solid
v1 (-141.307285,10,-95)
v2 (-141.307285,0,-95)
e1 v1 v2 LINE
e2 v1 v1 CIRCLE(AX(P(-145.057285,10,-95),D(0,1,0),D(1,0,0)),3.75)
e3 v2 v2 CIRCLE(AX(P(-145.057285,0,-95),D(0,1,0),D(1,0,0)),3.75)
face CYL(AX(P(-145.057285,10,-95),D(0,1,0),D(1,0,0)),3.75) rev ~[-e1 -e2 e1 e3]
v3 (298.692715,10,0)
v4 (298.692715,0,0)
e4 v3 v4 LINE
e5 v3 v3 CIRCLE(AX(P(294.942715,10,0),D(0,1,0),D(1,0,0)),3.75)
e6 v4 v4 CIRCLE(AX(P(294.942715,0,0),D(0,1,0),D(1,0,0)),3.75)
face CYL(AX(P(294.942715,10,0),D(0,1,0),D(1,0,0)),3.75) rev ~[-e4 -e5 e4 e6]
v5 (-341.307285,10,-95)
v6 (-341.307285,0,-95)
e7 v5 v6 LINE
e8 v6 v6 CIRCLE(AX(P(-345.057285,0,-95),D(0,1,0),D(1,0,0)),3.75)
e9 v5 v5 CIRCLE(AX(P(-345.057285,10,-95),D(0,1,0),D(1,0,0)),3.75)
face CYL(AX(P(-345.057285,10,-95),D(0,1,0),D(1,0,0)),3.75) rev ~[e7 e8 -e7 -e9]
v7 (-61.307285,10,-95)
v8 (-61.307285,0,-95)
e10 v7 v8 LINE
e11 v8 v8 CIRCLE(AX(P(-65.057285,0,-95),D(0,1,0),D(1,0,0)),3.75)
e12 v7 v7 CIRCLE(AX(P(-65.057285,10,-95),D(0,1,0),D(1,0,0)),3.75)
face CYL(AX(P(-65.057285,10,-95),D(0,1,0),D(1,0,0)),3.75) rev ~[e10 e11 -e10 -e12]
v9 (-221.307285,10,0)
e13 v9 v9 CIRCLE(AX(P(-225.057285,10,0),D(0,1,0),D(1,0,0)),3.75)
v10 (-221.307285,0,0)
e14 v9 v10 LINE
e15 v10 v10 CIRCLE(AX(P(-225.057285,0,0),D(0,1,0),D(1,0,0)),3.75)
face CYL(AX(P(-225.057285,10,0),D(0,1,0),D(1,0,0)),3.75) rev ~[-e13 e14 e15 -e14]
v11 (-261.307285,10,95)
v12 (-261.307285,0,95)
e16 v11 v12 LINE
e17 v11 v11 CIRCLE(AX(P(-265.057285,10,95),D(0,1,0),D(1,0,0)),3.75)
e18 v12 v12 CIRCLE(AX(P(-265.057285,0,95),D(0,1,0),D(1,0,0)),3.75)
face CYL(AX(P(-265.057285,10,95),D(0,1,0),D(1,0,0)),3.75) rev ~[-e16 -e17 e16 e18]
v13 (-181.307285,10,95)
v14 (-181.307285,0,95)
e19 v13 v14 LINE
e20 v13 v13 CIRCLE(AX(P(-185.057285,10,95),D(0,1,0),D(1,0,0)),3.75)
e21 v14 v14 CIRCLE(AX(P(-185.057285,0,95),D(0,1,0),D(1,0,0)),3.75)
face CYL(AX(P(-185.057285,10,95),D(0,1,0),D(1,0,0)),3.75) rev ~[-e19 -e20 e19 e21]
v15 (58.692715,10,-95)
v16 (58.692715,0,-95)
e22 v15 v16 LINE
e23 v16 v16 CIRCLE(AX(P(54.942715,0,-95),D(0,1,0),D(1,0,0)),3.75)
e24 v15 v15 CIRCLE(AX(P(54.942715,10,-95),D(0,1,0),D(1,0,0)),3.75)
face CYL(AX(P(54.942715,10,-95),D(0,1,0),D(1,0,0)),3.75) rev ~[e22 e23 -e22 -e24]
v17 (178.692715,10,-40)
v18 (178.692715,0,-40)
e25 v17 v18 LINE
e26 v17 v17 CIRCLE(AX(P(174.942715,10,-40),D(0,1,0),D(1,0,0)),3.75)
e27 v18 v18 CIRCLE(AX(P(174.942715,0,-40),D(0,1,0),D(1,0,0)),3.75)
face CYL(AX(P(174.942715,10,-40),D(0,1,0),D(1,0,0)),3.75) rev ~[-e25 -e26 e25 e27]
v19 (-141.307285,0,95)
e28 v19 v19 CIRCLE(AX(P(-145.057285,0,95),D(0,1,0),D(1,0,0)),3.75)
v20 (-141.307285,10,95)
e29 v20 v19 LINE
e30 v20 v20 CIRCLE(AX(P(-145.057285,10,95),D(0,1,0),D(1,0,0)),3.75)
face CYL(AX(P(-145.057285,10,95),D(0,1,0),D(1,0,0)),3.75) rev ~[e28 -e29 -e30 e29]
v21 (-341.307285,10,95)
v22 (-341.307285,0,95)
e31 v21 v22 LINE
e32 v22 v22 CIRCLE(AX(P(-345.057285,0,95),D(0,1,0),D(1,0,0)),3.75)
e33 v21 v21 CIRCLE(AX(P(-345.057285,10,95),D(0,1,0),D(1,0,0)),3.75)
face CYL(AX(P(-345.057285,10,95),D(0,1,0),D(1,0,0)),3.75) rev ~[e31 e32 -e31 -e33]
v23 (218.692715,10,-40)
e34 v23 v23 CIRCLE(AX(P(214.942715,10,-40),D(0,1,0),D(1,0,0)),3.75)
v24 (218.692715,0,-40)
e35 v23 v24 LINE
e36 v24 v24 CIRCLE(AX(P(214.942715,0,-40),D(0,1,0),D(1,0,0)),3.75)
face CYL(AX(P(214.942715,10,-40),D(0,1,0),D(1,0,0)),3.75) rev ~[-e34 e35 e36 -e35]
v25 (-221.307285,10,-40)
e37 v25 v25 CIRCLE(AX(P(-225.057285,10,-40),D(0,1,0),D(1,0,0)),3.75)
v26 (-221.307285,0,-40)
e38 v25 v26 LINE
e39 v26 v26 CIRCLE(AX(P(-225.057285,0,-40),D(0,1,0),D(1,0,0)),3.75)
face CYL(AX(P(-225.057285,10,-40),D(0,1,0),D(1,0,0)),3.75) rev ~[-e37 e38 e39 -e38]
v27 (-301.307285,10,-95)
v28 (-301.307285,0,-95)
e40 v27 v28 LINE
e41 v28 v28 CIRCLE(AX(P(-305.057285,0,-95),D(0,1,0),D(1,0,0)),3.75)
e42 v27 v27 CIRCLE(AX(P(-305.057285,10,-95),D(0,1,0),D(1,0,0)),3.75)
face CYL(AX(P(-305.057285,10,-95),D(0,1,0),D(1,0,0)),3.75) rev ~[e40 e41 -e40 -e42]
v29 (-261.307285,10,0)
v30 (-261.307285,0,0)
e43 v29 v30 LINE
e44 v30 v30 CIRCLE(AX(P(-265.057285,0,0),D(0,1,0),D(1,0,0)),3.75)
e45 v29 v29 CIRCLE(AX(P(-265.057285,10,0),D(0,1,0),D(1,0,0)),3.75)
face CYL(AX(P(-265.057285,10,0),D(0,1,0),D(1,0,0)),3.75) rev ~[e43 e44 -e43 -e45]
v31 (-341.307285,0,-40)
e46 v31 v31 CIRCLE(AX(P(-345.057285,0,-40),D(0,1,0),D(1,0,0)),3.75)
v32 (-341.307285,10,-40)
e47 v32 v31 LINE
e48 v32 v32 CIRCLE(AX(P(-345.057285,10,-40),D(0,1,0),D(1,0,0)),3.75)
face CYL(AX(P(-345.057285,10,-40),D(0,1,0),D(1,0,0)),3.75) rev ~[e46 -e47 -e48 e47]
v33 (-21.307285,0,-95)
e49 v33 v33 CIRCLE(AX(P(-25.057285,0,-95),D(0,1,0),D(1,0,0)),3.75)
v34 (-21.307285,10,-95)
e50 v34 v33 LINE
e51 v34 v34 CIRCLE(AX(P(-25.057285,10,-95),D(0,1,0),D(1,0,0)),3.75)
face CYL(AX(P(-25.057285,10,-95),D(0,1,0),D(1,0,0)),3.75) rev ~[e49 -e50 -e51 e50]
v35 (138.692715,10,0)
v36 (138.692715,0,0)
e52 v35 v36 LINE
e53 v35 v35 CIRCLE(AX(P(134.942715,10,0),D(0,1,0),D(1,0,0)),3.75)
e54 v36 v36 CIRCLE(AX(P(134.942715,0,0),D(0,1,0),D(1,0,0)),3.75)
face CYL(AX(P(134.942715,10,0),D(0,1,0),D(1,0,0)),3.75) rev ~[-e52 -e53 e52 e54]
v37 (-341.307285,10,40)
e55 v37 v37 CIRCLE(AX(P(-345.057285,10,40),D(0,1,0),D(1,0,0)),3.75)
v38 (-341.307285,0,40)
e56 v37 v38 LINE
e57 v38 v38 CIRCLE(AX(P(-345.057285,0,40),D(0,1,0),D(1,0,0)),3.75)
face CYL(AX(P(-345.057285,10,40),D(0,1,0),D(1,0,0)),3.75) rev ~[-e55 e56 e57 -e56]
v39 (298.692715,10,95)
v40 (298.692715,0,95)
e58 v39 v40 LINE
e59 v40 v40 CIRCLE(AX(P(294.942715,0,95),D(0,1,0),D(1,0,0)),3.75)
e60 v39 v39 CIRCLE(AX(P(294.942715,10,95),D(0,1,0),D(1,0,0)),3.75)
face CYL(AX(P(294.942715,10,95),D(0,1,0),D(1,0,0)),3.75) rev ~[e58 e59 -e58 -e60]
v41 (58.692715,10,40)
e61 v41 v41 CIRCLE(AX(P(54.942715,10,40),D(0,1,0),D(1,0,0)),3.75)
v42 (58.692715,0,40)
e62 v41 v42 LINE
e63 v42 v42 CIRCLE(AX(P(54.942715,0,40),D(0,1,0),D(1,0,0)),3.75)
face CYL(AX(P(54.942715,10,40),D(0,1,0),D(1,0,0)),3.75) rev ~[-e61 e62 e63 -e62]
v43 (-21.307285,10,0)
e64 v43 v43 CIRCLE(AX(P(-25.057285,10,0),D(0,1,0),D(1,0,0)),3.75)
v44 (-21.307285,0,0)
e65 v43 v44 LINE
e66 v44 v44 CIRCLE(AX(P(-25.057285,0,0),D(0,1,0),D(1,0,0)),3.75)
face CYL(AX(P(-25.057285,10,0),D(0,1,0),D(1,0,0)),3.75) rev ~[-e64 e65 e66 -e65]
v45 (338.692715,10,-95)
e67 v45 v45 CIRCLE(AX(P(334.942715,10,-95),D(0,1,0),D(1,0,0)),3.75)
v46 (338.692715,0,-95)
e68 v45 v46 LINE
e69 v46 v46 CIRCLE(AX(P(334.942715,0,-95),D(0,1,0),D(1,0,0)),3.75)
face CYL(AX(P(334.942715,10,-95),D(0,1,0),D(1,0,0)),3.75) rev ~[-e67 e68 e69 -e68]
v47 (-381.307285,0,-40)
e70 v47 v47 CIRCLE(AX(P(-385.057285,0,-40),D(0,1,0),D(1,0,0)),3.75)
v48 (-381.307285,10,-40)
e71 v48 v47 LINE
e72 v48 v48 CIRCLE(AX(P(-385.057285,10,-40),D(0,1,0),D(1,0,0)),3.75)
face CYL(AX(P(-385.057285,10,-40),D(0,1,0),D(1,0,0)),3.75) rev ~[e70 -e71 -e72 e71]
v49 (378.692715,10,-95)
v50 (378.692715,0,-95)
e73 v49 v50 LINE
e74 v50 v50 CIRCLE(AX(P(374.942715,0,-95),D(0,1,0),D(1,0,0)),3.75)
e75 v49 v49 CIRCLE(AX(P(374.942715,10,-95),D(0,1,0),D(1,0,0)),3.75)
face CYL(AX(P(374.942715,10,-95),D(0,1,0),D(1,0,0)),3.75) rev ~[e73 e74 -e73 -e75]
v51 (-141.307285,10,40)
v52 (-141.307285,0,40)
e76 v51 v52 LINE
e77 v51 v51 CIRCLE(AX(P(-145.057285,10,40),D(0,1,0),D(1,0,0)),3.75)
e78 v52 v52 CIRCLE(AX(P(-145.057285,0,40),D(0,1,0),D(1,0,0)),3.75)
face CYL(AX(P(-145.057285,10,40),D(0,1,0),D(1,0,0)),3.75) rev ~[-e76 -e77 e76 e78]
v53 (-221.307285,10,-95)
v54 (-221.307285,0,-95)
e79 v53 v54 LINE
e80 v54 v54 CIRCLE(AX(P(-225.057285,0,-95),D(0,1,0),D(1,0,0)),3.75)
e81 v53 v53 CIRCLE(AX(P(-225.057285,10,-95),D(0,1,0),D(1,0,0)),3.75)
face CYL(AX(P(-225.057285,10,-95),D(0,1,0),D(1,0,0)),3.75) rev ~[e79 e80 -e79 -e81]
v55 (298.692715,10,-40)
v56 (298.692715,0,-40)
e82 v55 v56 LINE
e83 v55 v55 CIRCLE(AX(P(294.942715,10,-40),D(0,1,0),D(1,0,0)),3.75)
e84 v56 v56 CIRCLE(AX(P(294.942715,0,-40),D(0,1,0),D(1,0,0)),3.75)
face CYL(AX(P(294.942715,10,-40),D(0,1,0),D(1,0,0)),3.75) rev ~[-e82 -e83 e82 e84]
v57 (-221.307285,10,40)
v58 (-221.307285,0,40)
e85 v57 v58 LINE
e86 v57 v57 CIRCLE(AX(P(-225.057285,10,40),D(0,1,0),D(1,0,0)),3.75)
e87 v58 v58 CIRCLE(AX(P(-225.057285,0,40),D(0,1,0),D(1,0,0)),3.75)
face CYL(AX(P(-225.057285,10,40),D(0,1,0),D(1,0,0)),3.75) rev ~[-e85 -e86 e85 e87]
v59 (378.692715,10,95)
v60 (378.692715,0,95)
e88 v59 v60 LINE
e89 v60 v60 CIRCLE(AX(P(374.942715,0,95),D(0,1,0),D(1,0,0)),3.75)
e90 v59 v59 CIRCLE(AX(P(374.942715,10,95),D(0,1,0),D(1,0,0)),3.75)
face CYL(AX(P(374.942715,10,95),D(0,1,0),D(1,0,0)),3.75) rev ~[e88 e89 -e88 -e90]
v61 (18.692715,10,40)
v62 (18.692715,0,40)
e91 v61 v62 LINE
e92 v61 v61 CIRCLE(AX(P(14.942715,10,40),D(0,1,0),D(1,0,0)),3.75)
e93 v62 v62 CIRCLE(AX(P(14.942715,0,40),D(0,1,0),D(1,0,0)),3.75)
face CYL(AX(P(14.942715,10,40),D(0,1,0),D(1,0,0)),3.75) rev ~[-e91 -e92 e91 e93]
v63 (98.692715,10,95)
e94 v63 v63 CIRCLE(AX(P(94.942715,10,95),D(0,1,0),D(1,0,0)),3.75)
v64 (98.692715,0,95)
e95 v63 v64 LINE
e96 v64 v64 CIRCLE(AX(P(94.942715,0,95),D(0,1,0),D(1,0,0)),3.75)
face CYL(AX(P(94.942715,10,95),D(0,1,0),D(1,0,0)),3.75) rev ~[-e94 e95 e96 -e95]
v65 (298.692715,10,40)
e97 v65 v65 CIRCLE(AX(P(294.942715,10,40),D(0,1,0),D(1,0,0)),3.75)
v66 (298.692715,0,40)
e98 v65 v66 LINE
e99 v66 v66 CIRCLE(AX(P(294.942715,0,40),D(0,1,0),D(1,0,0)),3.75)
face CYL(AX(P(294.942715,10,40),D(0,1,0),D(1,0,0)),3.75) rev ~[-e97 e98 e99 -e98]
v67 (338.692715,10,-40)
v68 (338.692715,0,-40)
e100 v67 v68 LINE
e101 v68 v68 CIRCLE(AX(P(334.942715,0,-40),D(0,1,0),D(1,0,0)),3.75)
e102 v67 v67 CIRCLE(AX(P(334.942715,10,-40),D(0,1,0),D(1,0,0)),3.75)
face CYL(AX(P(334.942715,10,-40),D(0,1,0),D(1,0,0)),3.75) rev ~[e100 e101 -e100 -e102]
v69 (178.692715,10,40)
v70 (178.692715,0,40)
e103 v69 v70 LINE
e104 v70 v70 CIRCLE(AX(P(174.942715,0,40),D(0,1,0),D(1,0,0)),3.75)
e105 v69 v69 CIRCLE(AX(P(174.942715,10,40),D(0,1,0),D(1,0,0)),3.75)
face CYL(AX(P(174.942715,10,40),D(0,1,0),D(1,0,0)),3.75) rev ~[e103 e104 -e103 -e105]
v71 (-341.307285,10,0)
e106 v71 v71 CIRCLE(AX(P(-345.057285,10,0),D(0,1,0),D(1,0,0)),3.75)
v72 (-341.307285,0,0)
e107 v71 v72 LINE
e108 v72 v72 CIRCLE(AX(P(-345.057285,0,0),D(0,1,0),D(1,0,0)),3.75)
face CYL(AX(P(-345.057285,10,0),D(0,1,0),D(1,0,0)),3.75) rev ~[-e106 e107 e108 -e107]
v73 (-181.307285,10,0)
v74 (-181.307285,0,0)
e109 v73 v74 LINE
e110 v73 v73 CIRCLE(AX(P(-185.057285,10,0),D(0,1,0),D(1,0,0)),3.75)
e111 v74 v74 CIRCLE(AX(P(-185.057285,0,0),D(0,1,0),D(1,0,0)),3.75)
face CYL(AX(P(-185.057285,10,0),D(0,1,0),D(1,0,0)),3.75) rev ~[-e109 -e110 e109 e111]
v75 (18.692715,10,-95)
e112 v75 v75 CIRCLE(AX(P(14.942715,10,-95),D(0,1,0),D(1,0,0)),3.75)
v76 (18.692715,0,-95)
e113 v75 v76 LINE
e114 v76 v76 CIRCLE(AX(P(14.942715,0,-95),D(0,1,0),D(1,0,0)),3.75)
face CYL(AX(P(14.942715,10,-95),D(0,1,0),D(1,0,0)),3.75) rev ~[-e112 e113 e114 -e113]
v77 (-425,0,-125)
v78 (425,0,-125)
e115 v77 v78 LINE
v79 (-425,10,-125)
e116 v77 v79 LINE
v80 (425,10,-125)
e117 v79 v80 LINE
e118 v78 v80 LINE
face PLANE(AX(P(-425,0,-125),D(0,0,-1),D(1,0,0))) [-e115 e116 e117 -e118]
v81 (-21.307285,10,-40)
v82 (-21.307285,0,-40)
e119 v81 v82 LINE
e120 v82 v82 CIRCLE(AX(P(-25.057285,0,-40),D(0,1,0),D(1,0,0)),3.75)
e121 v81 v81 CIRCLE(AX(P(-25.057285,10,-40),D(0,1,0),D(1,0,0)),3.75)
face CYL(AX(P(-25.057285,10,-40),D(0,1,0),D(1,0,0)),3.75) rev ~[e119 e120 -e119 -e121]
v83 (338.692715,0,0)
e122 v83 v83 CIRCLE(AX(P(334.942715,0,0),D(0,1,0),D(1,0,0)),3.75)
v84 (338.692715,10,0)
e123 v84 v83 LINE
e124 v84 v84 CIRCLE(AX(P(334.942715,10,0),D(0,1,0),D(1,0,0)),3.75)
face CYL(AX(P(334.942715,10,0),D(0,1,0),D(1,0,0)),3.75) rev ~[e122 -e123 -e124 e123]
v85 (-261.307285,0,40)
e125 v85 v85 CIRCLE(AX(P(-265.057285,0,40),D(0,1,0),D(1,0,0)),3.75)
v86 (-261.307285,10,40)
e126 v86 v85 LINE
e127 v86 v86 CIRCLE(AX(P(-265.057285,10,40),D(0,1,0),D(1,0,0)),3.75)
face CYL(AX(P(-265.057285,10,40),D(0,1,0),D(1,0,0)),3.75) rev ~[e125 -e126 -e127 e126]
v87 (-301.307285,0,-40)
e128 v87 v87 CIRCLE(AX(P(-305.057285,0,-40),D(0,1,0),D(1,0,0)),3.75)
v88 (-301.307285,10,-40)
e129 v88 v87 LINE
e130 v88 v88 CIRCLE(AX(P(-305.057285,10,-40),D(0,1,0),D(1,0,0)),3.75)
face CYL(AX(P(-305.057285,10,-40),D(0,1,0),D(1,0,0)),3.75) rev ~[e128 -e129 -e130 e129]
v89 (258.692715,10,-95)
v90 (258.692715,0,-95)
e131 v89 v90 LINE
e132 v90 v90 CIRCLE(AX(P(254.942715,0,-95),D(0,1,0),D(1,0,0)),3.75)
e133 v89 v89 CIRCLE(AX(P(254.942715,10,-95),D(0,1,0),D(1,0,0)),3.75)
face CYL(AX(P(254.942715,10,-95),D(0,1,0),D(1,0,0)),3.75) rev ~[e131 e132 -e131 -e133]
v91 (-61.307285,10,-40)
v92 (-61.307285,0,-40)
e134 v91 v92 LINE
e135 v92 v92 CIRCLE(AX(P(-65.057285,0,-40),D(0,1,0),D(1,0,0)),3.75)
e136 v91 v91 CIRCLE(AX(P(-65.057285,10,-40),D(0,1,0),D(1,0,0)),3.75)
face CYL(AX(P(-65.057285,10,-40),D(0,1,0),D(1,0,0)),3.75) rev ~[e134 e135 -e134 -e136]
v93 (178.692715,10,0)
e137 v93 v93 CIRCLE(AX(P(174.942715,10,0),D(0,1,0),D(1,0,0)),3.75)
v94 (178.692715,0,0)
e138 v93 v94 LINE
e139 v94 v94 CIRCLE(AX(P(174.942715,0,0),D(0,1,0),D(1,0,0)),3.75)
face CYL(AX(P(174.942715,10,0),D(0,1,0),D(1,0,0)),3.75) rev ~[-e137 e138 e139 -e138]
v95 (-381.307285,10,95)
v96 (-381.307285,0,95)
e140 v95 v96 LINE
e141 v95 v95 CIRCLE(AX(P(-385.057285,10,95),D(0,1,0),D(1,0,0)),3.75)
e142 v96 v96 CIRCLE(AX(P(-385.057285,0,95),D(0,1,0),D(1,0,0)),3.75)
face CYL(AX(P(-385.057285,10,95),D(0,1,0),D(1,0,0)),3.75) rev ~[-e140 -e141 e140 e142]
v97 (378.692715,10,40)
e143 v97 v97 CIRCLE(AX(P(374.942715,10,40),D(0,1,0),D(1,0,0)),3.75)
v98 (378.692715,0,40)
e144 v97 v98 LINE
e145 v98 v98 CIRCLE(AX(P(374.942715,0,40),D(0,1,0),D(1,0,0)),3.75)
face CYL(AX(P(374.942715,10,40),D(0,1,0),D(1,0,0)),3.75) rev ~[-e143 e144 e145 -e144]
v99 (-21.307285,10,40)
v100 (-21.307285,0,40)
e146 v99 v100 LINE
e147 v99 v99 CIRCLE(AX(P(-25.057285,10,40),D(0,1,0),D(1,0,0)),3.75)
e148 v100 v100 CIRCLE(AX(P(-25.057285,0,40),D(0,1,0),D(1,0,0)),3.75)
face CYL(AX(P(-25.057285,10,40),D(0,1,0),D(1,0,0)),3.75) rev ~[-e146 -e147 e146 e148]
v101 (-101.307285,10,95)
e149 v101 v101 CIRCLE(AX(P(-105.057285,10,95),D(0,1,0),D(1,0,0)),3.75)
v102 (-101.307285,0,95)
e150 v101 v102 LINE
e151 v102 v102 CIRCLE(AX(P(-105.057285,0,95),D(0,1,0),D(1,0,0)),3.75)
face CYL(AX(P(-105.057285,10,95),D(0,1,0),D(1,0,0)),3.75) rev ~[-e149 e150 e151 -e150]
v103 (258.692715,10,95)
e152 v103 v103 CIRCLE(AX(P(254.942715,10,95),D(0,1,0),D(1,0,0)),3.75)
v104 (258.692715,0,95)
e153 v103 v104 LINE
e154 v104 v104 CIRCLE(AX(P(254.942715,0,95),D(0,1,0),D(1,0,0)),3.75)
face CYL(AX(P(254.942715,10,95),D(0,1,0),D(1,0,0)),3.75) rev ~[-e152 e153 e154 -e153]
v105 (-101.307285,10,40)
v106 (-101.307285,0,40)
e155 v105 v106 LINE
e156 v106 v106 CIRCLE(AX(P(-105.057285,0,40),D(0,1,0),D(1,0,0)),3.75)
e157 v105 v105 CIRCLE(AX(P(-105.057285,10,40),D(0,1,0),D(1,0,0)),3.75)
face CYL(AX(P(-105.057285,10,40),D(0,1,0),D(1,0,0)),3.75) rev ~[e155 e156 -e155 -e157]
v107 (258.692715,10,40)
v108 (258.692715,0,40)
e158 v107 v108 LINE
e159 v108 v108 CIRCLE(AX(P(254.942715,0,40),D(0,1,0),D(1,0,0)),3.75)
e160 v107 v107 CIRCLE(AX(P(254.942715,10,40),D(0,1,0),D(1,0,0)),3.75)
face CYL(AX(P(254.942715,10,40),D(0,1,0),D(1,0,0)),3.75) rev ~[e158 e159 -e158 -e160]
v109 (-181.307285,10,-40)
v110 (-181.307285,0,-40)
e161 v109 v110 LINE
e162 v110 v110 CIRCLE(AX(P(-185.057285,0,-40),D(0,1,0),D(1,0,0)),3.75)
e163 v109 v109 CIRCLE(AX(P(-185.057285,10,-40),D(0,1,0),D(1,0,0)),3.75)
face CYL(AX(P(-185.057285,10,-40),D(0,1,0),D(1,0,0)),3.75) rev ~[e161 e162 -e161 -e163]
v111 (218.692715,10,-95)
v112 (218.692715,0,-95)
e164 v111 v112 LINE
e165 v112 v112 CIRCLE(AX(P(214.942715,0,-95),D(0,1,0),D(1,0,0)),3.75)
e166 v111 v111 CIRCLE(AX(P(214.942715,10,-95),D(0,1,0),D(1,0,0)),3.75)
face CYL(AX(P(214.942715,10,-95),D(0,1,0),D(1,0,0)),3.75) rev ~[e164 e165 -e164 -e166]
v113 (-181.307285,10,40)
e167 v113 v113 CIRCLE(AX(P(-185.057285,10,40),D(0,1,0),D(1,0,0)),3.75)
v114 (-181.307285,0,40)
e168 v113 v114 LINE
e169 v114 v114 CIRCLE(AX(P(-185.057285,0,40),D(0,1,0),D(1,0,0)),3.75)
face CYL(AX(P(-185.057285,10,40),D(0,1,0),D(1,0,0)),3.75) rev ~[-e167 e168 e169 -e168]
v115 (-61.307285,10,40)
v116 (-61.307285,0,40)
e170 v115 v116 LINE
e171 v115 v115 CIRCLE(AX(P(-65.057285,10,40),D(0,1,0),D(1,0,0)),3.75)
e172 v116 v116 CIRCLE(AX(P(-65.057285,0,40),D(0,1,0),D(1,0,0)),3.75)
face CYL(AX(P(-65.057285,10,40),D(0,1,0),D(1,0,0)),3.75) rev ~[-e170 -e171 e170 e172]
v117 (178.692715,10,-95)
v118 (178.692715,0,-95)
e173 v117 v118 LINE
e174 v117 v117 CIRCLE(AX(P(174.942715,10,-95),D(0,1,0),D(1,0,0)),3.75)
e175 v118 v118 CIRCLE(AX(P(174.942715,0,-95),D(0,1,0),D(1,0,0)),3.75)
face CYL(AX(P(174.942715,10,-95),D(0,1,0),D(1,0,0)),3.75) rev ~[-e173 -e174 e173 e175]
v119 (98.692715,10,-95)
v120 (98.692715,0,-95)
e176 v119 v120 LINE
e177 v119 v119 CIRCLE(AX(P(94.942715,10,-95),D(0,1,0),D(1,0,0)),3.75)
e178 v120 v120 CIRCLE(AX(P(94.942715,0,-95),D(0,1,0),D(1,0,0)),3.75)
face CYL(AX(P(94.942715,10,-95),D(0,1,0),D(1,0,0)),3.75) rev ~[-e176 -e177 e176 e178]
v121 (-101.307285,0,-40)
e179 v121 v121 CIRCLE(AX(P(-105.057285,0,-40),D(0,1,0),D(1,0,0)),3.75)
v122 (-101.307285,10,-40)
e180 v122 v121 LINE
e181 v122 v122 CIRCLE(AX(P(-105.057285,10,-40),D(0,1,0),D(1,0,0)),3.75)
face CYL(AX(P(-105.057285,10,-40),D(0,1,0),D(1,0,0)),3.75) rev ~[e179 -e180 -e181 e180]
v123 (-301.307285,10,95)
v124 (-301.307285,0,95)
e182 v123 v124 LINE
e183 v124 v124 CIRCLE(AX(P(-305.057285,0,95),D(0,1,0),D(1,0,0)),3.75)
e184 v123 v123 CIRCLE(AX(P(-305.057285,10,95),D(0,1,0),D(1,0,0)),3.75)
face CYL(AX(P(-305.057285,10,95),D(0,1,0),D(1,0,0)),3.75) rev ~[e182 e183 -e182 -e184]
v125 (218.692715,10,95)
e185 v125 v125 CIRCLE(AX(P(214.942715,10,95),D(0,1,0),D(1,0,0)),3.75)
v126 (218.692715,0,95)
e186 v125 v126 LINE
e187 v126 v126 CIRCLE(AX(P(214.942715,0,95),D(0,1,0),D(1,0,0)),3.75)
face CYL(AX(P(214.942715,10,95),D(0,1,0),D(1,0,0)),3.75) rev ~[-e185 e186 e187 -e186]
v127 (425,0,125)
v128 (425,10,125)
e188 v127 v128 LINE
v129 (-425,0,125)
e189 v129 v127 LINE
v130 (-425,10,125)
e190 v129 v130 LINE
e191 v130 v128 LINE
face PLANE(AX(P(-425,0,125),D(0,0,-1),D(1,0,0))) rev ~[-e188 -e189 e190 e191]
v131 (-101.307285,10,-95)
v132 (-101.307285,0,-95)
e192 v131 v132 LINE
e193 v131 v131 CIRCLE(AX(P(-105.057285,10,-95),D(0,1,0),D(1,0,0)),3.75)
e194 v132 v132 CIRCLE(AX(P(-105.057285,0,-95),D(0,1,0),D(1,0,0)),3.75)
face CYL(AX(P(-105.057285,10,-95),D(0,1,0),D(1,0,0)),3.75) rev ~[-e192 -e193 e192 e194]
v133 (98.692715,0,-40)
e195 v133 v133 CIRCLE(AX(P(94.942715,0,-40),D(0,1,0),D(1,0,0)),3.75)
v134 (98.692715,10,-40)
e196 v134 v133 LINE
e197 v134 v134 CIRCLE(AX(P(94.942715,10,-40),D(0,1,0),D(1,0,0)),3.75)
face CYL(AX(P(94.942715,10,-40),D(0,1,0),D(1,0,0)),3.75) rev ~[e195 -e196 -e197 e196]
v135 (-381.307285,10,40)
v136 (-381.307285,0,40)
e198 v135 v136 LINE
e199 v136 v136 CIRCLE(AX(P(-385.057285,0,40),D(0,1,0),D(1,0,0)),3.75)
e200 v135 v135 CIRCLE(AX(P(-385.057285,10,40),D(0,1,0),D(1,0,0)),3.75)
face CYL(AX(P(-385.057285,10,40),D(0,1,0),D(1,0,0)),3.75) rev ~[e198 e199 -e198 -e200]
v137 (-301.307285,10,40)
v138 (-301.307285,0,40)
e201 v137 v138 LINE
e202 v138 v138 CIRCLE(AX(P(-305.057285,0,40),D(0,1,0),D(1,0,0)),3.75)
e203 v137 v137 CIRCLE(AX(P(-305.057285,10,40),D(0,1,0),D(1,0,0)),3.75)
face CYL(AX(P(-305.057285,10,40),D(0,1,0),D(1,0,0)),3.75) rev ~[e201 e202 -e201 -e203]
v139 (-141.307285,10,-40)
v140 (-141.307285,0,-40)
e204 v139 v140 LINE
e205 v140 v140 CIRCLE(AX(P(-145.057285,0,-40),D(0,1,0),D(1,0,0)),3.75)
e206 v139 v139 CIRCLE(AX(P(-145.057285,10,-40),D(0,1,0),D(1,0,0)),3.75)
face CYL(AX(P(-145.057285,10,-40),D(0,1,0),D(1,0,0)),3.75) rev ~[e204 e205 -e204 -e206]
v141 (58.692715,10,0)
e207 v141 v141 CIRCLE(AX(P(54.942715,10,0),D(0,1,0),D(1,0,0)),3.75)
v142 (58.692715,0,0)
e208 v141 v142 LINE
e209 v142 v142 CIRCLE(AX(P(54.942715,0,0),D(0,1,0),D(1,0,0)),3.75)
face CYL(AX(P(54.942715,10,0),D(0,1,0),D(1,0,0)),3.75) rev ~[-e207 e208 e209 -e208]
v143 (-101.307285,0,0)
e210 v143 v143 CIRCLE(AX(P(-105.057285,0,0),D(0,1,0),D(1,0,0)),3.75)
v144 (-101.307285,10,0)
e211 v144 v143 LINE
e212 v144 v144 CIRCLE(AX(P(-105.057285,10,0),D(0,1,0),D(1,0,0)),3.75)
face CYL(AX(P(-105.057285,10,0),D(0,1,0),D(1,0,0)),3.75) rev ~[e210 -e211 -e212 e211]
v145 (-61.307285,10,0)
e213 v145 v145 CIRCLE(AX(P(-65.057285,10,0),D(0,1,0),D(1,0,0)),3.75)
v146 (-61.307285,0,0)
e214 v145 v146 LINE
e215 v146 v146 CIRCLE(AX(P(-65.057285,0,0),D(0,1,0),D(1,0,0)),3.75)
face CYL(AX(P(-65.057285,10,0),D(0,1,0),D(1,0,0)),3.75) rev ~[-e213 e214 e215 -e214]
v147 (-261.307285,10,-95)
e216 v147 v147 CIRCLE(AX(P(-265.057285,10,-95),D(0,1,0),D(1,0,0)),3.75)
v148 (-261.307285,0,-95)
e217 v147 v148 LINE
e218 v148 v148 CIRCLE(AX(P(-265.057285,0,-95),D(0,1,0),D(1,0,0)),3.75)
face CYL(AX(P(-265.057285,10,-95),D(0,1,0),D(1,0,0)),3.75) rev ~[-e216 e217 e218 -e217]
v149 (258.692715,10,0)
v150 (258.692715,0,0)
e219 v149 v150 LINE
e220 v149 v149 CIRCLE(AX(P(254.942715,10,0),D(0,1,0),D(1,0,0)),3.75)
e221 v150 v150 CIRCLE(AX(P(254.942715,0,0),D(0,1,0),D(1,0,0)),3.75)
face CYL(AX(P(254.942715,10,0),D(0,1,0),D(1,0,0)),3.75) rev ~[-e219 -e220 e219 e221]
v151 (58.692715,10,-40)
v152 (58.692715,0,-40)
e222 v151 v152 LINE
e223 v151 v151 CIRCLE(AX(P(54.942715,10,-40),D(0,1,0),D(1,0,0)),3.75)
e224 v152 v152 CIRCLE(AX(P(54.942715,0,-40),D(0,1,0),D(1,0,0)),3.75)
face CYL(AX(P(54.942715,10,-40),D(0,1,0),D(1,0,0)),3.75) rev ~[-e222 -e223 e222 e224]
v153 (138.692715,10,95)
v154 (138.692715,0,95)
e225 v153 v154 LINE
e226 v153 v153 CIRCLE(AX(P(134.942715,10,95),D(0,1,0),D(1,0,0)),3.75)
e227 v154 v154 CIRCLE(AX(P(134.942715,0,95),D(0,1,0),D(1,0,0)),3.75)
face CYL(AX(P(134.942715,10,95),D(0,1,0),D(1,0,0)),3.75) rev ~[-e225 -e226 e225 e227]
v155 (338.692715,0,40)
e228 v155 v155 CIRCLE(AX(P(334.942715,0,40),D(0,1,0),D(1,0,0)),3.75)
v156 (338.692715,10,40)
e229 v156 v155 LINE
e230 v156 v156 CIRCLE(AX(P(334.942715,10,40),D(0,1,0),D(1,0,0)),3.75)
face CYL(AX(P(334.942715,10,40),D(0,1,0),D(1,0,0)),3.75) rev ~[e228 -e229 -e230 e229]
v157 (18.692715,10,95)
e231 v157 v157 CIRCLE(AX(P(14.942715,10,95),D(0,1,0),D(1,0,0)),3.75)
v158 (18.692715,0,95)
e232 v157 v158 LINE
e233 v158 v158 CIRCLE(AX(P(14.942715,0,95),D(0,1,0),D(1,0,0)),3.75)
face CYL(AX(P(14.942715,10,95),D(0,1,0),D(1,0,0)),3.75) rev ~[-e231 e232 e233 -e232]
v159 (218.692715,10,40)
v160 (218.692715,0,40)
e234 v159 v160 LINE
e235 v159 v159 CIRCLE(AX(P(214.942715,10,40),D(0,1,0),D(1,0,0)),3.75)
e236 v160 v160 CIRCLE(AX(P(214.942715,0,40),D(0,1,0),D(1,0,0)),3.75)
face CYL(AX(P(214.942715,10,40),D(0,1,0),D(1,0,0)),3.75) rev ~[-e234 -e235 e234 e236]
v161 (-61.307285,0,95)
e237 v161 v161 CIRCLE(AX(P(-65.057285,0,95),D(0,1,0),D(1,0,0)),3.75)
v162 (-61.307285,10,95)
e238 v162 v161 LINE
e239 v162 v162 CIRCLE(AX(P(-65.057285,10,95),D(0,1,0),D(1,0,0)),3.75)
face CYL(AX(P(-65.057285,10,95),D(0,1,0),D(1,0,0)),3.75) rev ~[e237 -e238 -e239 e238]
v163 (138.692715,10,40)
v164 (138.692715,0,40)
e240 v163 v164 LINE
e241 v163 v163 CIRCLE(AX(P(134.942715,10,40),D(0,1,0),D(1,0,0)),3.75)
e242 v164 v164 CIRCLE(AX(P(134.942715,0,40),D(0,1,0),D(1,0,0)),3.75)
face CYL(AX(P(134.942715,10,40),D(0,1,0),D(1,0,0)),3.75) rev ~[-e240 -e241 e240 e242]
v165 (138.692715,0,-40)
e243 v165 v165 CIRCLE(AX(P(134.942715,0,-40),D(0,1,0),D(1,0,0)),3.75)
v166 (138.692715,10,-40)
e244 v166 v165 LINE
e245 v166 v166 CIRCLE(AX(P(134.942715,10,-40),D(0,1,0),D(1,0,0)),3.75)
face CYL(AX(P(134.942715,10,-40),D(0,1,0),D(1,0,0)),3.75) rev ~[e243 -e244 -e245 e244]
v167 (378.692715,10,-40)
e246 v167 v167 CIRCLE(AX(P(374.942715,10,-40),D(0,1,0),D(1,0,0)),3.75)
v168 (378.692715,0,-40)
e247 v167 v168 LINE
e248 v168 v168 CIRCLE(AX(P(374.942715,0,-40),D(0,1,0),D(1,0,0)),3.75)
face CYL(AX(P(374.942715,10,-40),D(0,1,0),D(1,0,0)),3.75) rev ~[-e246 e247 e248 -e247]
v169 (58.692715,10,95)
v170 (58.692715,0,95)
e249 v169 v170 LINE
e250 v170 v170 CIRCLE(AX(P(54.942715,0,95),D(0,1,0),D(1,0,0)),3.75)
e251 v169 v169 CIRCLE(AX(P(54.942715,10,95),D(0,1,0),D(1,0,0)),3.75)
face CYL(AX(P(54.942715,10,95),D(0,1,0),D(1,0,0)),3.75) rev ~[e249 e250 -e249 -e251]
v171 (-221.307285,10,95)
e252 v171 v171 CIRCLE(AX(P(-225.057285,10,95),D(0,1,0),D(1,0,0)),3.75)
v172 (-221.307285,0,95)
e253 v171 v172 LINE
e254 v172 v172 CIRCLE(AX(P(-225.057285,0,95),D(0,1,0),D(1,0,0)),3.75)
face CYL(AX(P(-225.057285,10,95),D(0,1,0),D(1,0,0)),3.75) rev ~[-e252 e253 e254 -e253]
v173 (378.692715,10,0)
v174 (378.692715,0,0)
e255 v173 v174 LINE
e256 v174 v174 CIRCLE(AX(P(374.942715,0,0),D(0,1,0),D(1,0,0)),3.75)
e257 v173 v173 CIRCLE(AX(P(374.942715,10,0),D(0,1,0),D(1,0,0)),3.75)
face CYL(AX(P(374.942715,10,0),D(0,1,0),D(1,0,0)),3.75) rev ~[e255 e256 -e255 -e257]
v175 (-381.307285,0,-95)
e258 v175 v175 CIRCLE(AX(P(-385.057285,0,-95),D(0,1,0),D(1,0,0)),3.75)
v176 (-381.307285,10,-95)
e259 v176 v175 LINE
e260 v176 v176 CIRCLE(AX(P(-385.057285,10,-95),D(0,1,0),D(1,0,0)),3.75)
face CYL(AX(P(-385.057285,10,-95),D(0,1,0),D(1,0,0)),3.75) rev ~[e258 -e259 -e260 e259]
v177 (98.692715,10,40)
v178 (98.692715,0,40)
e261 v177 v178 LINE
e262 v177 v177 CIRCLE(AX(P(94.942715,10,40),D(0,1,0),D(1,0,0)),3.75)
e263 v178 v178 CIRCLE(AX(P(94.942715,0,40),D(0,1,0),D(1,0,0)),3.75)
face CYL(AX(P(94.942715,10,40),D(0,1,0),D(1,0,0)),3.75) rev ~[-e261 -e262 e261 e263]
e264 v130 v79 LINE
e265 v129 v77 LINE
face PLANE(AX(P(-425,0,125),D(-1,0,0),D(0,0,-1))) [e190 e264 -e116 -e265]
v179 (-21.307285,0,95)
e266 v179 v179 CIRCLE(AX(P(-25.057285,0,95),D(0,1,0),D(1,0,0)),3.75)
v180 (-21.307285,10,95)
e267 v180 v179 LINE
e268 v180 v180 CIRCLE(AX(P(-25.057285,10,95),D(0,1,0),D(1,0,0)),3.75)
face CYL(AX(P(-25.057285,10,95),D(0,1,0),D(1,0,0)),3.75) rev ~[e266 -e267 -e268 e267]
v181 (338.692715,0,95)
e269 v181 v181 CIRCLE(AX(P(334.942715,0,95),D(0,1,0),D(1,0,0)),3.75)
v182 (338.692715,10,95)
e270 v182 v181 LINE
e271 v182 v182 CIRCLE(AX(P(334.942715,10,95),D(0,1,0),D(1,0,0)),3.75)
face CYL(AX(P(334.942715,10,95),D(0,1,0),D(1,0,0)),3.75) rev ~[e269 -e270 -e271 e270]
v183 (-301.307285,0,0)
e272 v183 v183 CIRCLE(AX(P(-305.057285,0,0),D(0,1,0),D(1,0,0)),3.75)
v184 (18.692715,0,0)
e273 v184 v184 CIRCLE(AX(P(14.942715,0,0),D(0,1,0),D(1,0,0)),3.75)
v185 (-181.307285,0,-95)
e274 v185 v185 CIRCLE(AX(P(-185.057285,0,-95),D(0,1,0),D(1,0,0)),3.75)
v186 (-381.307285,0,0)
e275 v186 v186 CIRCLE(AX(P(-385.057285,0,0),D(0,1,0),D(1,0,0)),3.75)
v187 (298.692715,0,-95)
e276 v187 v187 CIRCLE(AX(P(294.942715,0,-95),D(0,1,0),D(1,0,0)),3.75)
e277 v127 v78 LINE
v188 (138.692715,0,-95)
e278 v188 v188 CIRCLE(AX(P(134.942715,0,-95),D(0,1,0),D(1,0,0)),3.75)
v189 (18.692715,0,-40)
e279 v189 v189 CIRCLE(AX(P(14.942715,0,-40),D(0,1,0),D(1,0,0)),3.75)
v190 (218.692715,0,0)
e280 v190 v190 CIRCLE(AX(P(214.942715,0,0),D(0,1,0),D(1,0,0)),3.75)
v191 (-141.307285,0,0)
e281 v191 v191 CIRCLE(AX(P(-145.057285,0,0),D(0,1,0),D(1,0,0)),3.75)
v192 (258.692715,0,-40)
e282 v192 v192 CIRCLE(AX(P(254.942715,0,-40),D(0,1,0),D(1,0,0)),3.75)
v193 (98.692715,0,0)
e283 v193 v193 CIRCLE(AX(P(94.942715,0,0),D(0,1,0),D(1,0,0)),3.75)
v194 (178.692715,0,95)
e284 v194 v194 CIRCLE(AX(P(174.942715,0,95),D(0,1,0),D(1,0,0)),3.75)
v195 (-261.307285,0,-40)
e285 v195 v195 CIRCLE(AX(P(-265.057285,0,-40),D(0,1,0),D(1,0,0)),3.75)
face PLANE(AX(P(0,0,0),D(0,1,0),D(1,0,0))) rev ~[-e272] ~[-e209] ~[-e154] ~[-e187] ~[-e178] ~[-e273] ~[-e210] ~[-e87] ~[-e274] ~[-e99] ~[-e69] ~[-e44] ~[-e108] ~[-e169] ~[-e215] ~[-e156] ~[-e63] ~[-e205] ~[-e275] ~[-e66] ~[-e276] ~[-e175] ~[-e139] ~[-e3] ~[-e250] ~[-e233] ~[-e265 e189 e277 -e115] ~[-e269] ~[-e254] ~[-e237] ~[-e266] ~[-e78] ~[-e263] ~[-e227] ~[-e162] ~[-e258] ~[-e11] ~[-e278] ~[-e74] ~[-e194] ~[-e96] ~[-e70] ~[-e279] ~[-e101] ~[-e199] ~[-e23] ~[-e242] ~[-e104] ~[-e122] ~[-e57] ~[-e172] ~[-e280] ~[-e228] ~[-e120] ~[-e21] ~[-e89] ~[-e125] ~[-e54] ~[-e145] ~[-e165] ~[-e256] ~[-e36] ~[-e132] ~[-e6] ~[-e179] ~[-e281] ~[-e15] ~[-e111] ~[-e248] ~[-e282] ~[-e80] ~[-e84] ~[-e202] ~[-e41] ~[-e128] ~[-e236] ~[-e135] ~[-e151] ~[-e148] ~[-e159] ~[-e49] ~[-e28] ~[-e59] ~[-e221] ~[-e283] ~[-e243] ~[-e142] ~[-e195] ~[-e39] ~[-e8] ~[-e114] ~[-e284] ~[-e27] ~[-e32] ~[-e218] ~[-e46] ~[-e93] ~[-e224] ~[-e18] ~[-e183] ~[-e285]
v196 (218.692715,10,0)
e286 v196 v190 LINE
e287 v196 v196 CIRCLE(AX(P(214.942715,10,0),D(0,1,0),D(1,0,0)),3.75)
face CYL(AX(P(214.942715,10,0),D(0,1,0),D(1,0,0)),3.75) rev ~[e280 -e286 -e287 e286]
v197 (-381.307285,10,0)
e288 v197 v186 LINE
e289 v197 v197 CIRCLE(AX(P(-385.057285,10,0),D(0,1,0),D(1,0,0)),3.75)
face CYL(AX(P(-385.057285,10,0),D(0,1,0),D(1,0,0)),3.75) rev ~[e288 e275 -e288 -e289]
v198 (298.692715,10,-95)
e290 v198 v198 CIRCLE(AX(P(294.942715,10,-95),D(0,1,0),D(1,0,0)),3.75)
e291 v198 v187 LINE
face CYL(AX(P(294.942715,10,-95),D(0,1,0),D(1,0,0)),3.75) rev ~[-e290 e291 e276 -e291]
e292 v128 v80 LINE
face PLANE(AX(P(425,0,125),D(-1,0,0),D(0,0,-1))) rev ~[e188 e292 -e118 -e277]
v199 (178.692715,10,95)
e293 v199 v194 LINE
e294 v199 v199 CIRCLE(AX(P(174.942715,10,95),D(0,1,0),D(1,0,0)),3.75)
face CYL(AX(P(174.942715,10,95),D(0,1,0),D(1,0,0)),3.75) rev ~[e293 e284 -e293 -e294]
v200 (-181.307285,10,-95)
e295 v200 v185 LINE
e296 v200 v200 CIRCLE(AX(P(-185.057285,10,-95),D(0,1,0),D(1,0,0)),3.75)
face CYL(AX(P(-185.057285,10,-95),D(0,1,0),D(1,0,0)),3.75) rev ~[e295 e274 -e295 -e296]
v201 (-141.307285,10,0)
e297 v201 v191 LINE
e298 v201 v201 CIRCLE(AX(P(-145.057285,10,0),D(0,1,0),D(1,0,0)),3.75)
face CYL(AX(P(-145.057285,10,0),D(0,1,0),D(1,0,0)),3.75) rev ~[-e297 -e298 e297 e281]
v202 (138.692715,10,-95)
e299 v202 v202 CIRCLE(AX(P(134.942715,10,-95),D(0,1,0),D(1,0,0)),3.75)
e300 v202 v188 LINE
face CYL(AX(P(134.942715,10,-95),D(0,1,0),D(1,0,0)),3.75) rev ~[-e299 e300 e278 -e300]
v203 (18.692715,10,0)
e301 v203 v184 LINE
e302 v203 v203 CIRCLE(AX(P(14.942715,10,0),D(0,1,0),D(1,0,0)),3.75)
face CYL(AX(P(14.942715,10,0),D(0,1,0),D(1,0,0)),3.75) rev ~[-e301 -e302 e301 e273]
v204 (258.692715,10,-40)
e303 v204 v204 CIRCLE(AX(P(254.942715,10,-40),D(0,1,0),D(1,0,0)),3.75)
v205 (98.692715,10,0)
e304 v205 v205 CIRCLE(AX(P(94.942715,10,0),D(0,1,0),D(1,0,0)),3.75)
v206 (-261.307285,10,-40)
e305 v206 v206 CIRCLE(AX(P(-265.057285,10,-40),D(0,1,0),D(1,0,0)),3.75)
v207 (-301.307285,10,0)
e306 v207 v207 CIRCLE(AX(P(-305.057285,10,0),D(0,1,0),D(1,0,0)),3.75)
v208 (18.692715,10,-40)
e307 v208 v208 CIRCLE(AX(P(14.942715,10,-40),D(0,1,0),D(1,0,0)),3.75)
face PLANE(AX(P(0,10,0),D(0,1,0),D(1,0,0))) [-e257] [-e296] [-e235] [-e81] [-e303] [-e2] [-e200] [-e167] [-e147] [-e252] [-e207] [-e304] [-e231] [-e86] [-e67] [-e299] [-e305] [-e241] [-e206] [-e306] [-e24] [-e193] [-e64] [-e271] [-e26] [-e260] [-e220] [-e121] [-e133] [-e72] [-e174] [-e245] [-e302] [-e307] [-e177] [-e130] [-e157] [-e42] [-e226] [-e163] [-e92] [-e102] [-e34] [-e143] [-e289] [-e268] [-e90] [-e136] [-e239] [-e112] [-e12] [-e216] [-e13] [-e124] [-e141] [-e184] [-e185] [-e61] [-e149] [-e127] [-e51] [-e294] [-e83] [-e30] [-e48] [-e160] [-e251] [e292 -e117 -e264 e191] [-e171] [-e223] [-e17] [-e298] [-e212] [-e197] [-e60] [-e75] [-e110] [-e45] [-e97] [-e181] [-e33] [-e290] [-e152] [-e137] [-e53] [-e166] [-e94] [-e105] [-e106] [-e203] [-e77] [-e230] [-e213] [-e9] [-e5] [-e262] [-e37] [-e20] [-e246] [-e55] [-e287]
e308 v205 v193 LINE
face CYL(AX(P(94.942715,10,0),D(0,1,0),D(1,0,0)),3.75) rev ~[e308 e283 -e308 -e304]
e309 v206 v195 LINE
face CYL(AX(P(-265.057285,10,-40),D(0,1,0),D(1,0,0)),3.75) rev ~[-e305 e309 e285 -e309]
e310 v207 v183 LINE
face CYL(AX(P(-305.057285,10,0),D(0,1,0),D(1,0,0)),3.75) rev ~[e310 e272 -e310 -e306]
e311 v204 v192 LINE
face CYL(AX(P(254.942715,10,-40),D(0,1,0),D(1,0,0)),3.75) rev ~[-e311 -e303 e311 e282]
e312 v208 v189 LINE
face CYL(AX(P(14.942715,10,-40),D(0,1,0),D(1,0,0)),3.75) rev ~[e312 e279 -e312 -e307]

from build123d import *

# Parameters (mm, degrees)
SKETCH1_W           = 850
SKETCH1_H           = 250
BOSS_EXTRUDE1_DEPTH = 10
SKETCH2_R           = 3.75
CUT_EXTRUDE1_DEPTH  = 10
LPATTERN1_COUNT     = 20
LPATTERN1_PITCH     = 40


with BuildPart() as part:
    # Sketch1 → Boss-Extrude1 (new body)
    with BuildSketch(Plane(origin=(0, 0, 0), x_dir=(1, 0, 0), z_dir=(0, 1, 0))):
        Rectangle(SKETCH1_W, SKETCH1_H)
    extrude(amount=BOSS_EXTRUDE1_DEPTH)

    # Sketch2 → Cut-Extrude1 (cut)
    with BuildSketch(Plane(origin=(0, 10, 0), x_dir=(1, 0, 0), z_dir=(0, 1, 0))):
        with Locations((-385.057285496, 95)):
            Circle(SKETCH2_R)
        with Locations((-385.057285496, 0)):
            Circle(SKETCH2_R)
        with Locations((-385.057285496, -95)):
            Circle(SKETCH2_R)
        with Locations((-385.057285496, 40)):
            Circle(SKETCH2_R)
        with Locations((-385.057285496, -40)):
            Circle(SKETCH2_R)
    cut_extrude1 = extrude(amount=-CUT_EXTRUDE1_DEPTH, mode=Mode.SUBTRACT)

    # LPattern1: Cut-Extrude1 ×20
    with Locations(*[(i * LPATTERN1_PITCH, 0, 0) for i in range(1, LPATTERN1_COUNT)]):
        add(cut_extrude1, mode=Mode.SUBTRACT)


solid = part.part
